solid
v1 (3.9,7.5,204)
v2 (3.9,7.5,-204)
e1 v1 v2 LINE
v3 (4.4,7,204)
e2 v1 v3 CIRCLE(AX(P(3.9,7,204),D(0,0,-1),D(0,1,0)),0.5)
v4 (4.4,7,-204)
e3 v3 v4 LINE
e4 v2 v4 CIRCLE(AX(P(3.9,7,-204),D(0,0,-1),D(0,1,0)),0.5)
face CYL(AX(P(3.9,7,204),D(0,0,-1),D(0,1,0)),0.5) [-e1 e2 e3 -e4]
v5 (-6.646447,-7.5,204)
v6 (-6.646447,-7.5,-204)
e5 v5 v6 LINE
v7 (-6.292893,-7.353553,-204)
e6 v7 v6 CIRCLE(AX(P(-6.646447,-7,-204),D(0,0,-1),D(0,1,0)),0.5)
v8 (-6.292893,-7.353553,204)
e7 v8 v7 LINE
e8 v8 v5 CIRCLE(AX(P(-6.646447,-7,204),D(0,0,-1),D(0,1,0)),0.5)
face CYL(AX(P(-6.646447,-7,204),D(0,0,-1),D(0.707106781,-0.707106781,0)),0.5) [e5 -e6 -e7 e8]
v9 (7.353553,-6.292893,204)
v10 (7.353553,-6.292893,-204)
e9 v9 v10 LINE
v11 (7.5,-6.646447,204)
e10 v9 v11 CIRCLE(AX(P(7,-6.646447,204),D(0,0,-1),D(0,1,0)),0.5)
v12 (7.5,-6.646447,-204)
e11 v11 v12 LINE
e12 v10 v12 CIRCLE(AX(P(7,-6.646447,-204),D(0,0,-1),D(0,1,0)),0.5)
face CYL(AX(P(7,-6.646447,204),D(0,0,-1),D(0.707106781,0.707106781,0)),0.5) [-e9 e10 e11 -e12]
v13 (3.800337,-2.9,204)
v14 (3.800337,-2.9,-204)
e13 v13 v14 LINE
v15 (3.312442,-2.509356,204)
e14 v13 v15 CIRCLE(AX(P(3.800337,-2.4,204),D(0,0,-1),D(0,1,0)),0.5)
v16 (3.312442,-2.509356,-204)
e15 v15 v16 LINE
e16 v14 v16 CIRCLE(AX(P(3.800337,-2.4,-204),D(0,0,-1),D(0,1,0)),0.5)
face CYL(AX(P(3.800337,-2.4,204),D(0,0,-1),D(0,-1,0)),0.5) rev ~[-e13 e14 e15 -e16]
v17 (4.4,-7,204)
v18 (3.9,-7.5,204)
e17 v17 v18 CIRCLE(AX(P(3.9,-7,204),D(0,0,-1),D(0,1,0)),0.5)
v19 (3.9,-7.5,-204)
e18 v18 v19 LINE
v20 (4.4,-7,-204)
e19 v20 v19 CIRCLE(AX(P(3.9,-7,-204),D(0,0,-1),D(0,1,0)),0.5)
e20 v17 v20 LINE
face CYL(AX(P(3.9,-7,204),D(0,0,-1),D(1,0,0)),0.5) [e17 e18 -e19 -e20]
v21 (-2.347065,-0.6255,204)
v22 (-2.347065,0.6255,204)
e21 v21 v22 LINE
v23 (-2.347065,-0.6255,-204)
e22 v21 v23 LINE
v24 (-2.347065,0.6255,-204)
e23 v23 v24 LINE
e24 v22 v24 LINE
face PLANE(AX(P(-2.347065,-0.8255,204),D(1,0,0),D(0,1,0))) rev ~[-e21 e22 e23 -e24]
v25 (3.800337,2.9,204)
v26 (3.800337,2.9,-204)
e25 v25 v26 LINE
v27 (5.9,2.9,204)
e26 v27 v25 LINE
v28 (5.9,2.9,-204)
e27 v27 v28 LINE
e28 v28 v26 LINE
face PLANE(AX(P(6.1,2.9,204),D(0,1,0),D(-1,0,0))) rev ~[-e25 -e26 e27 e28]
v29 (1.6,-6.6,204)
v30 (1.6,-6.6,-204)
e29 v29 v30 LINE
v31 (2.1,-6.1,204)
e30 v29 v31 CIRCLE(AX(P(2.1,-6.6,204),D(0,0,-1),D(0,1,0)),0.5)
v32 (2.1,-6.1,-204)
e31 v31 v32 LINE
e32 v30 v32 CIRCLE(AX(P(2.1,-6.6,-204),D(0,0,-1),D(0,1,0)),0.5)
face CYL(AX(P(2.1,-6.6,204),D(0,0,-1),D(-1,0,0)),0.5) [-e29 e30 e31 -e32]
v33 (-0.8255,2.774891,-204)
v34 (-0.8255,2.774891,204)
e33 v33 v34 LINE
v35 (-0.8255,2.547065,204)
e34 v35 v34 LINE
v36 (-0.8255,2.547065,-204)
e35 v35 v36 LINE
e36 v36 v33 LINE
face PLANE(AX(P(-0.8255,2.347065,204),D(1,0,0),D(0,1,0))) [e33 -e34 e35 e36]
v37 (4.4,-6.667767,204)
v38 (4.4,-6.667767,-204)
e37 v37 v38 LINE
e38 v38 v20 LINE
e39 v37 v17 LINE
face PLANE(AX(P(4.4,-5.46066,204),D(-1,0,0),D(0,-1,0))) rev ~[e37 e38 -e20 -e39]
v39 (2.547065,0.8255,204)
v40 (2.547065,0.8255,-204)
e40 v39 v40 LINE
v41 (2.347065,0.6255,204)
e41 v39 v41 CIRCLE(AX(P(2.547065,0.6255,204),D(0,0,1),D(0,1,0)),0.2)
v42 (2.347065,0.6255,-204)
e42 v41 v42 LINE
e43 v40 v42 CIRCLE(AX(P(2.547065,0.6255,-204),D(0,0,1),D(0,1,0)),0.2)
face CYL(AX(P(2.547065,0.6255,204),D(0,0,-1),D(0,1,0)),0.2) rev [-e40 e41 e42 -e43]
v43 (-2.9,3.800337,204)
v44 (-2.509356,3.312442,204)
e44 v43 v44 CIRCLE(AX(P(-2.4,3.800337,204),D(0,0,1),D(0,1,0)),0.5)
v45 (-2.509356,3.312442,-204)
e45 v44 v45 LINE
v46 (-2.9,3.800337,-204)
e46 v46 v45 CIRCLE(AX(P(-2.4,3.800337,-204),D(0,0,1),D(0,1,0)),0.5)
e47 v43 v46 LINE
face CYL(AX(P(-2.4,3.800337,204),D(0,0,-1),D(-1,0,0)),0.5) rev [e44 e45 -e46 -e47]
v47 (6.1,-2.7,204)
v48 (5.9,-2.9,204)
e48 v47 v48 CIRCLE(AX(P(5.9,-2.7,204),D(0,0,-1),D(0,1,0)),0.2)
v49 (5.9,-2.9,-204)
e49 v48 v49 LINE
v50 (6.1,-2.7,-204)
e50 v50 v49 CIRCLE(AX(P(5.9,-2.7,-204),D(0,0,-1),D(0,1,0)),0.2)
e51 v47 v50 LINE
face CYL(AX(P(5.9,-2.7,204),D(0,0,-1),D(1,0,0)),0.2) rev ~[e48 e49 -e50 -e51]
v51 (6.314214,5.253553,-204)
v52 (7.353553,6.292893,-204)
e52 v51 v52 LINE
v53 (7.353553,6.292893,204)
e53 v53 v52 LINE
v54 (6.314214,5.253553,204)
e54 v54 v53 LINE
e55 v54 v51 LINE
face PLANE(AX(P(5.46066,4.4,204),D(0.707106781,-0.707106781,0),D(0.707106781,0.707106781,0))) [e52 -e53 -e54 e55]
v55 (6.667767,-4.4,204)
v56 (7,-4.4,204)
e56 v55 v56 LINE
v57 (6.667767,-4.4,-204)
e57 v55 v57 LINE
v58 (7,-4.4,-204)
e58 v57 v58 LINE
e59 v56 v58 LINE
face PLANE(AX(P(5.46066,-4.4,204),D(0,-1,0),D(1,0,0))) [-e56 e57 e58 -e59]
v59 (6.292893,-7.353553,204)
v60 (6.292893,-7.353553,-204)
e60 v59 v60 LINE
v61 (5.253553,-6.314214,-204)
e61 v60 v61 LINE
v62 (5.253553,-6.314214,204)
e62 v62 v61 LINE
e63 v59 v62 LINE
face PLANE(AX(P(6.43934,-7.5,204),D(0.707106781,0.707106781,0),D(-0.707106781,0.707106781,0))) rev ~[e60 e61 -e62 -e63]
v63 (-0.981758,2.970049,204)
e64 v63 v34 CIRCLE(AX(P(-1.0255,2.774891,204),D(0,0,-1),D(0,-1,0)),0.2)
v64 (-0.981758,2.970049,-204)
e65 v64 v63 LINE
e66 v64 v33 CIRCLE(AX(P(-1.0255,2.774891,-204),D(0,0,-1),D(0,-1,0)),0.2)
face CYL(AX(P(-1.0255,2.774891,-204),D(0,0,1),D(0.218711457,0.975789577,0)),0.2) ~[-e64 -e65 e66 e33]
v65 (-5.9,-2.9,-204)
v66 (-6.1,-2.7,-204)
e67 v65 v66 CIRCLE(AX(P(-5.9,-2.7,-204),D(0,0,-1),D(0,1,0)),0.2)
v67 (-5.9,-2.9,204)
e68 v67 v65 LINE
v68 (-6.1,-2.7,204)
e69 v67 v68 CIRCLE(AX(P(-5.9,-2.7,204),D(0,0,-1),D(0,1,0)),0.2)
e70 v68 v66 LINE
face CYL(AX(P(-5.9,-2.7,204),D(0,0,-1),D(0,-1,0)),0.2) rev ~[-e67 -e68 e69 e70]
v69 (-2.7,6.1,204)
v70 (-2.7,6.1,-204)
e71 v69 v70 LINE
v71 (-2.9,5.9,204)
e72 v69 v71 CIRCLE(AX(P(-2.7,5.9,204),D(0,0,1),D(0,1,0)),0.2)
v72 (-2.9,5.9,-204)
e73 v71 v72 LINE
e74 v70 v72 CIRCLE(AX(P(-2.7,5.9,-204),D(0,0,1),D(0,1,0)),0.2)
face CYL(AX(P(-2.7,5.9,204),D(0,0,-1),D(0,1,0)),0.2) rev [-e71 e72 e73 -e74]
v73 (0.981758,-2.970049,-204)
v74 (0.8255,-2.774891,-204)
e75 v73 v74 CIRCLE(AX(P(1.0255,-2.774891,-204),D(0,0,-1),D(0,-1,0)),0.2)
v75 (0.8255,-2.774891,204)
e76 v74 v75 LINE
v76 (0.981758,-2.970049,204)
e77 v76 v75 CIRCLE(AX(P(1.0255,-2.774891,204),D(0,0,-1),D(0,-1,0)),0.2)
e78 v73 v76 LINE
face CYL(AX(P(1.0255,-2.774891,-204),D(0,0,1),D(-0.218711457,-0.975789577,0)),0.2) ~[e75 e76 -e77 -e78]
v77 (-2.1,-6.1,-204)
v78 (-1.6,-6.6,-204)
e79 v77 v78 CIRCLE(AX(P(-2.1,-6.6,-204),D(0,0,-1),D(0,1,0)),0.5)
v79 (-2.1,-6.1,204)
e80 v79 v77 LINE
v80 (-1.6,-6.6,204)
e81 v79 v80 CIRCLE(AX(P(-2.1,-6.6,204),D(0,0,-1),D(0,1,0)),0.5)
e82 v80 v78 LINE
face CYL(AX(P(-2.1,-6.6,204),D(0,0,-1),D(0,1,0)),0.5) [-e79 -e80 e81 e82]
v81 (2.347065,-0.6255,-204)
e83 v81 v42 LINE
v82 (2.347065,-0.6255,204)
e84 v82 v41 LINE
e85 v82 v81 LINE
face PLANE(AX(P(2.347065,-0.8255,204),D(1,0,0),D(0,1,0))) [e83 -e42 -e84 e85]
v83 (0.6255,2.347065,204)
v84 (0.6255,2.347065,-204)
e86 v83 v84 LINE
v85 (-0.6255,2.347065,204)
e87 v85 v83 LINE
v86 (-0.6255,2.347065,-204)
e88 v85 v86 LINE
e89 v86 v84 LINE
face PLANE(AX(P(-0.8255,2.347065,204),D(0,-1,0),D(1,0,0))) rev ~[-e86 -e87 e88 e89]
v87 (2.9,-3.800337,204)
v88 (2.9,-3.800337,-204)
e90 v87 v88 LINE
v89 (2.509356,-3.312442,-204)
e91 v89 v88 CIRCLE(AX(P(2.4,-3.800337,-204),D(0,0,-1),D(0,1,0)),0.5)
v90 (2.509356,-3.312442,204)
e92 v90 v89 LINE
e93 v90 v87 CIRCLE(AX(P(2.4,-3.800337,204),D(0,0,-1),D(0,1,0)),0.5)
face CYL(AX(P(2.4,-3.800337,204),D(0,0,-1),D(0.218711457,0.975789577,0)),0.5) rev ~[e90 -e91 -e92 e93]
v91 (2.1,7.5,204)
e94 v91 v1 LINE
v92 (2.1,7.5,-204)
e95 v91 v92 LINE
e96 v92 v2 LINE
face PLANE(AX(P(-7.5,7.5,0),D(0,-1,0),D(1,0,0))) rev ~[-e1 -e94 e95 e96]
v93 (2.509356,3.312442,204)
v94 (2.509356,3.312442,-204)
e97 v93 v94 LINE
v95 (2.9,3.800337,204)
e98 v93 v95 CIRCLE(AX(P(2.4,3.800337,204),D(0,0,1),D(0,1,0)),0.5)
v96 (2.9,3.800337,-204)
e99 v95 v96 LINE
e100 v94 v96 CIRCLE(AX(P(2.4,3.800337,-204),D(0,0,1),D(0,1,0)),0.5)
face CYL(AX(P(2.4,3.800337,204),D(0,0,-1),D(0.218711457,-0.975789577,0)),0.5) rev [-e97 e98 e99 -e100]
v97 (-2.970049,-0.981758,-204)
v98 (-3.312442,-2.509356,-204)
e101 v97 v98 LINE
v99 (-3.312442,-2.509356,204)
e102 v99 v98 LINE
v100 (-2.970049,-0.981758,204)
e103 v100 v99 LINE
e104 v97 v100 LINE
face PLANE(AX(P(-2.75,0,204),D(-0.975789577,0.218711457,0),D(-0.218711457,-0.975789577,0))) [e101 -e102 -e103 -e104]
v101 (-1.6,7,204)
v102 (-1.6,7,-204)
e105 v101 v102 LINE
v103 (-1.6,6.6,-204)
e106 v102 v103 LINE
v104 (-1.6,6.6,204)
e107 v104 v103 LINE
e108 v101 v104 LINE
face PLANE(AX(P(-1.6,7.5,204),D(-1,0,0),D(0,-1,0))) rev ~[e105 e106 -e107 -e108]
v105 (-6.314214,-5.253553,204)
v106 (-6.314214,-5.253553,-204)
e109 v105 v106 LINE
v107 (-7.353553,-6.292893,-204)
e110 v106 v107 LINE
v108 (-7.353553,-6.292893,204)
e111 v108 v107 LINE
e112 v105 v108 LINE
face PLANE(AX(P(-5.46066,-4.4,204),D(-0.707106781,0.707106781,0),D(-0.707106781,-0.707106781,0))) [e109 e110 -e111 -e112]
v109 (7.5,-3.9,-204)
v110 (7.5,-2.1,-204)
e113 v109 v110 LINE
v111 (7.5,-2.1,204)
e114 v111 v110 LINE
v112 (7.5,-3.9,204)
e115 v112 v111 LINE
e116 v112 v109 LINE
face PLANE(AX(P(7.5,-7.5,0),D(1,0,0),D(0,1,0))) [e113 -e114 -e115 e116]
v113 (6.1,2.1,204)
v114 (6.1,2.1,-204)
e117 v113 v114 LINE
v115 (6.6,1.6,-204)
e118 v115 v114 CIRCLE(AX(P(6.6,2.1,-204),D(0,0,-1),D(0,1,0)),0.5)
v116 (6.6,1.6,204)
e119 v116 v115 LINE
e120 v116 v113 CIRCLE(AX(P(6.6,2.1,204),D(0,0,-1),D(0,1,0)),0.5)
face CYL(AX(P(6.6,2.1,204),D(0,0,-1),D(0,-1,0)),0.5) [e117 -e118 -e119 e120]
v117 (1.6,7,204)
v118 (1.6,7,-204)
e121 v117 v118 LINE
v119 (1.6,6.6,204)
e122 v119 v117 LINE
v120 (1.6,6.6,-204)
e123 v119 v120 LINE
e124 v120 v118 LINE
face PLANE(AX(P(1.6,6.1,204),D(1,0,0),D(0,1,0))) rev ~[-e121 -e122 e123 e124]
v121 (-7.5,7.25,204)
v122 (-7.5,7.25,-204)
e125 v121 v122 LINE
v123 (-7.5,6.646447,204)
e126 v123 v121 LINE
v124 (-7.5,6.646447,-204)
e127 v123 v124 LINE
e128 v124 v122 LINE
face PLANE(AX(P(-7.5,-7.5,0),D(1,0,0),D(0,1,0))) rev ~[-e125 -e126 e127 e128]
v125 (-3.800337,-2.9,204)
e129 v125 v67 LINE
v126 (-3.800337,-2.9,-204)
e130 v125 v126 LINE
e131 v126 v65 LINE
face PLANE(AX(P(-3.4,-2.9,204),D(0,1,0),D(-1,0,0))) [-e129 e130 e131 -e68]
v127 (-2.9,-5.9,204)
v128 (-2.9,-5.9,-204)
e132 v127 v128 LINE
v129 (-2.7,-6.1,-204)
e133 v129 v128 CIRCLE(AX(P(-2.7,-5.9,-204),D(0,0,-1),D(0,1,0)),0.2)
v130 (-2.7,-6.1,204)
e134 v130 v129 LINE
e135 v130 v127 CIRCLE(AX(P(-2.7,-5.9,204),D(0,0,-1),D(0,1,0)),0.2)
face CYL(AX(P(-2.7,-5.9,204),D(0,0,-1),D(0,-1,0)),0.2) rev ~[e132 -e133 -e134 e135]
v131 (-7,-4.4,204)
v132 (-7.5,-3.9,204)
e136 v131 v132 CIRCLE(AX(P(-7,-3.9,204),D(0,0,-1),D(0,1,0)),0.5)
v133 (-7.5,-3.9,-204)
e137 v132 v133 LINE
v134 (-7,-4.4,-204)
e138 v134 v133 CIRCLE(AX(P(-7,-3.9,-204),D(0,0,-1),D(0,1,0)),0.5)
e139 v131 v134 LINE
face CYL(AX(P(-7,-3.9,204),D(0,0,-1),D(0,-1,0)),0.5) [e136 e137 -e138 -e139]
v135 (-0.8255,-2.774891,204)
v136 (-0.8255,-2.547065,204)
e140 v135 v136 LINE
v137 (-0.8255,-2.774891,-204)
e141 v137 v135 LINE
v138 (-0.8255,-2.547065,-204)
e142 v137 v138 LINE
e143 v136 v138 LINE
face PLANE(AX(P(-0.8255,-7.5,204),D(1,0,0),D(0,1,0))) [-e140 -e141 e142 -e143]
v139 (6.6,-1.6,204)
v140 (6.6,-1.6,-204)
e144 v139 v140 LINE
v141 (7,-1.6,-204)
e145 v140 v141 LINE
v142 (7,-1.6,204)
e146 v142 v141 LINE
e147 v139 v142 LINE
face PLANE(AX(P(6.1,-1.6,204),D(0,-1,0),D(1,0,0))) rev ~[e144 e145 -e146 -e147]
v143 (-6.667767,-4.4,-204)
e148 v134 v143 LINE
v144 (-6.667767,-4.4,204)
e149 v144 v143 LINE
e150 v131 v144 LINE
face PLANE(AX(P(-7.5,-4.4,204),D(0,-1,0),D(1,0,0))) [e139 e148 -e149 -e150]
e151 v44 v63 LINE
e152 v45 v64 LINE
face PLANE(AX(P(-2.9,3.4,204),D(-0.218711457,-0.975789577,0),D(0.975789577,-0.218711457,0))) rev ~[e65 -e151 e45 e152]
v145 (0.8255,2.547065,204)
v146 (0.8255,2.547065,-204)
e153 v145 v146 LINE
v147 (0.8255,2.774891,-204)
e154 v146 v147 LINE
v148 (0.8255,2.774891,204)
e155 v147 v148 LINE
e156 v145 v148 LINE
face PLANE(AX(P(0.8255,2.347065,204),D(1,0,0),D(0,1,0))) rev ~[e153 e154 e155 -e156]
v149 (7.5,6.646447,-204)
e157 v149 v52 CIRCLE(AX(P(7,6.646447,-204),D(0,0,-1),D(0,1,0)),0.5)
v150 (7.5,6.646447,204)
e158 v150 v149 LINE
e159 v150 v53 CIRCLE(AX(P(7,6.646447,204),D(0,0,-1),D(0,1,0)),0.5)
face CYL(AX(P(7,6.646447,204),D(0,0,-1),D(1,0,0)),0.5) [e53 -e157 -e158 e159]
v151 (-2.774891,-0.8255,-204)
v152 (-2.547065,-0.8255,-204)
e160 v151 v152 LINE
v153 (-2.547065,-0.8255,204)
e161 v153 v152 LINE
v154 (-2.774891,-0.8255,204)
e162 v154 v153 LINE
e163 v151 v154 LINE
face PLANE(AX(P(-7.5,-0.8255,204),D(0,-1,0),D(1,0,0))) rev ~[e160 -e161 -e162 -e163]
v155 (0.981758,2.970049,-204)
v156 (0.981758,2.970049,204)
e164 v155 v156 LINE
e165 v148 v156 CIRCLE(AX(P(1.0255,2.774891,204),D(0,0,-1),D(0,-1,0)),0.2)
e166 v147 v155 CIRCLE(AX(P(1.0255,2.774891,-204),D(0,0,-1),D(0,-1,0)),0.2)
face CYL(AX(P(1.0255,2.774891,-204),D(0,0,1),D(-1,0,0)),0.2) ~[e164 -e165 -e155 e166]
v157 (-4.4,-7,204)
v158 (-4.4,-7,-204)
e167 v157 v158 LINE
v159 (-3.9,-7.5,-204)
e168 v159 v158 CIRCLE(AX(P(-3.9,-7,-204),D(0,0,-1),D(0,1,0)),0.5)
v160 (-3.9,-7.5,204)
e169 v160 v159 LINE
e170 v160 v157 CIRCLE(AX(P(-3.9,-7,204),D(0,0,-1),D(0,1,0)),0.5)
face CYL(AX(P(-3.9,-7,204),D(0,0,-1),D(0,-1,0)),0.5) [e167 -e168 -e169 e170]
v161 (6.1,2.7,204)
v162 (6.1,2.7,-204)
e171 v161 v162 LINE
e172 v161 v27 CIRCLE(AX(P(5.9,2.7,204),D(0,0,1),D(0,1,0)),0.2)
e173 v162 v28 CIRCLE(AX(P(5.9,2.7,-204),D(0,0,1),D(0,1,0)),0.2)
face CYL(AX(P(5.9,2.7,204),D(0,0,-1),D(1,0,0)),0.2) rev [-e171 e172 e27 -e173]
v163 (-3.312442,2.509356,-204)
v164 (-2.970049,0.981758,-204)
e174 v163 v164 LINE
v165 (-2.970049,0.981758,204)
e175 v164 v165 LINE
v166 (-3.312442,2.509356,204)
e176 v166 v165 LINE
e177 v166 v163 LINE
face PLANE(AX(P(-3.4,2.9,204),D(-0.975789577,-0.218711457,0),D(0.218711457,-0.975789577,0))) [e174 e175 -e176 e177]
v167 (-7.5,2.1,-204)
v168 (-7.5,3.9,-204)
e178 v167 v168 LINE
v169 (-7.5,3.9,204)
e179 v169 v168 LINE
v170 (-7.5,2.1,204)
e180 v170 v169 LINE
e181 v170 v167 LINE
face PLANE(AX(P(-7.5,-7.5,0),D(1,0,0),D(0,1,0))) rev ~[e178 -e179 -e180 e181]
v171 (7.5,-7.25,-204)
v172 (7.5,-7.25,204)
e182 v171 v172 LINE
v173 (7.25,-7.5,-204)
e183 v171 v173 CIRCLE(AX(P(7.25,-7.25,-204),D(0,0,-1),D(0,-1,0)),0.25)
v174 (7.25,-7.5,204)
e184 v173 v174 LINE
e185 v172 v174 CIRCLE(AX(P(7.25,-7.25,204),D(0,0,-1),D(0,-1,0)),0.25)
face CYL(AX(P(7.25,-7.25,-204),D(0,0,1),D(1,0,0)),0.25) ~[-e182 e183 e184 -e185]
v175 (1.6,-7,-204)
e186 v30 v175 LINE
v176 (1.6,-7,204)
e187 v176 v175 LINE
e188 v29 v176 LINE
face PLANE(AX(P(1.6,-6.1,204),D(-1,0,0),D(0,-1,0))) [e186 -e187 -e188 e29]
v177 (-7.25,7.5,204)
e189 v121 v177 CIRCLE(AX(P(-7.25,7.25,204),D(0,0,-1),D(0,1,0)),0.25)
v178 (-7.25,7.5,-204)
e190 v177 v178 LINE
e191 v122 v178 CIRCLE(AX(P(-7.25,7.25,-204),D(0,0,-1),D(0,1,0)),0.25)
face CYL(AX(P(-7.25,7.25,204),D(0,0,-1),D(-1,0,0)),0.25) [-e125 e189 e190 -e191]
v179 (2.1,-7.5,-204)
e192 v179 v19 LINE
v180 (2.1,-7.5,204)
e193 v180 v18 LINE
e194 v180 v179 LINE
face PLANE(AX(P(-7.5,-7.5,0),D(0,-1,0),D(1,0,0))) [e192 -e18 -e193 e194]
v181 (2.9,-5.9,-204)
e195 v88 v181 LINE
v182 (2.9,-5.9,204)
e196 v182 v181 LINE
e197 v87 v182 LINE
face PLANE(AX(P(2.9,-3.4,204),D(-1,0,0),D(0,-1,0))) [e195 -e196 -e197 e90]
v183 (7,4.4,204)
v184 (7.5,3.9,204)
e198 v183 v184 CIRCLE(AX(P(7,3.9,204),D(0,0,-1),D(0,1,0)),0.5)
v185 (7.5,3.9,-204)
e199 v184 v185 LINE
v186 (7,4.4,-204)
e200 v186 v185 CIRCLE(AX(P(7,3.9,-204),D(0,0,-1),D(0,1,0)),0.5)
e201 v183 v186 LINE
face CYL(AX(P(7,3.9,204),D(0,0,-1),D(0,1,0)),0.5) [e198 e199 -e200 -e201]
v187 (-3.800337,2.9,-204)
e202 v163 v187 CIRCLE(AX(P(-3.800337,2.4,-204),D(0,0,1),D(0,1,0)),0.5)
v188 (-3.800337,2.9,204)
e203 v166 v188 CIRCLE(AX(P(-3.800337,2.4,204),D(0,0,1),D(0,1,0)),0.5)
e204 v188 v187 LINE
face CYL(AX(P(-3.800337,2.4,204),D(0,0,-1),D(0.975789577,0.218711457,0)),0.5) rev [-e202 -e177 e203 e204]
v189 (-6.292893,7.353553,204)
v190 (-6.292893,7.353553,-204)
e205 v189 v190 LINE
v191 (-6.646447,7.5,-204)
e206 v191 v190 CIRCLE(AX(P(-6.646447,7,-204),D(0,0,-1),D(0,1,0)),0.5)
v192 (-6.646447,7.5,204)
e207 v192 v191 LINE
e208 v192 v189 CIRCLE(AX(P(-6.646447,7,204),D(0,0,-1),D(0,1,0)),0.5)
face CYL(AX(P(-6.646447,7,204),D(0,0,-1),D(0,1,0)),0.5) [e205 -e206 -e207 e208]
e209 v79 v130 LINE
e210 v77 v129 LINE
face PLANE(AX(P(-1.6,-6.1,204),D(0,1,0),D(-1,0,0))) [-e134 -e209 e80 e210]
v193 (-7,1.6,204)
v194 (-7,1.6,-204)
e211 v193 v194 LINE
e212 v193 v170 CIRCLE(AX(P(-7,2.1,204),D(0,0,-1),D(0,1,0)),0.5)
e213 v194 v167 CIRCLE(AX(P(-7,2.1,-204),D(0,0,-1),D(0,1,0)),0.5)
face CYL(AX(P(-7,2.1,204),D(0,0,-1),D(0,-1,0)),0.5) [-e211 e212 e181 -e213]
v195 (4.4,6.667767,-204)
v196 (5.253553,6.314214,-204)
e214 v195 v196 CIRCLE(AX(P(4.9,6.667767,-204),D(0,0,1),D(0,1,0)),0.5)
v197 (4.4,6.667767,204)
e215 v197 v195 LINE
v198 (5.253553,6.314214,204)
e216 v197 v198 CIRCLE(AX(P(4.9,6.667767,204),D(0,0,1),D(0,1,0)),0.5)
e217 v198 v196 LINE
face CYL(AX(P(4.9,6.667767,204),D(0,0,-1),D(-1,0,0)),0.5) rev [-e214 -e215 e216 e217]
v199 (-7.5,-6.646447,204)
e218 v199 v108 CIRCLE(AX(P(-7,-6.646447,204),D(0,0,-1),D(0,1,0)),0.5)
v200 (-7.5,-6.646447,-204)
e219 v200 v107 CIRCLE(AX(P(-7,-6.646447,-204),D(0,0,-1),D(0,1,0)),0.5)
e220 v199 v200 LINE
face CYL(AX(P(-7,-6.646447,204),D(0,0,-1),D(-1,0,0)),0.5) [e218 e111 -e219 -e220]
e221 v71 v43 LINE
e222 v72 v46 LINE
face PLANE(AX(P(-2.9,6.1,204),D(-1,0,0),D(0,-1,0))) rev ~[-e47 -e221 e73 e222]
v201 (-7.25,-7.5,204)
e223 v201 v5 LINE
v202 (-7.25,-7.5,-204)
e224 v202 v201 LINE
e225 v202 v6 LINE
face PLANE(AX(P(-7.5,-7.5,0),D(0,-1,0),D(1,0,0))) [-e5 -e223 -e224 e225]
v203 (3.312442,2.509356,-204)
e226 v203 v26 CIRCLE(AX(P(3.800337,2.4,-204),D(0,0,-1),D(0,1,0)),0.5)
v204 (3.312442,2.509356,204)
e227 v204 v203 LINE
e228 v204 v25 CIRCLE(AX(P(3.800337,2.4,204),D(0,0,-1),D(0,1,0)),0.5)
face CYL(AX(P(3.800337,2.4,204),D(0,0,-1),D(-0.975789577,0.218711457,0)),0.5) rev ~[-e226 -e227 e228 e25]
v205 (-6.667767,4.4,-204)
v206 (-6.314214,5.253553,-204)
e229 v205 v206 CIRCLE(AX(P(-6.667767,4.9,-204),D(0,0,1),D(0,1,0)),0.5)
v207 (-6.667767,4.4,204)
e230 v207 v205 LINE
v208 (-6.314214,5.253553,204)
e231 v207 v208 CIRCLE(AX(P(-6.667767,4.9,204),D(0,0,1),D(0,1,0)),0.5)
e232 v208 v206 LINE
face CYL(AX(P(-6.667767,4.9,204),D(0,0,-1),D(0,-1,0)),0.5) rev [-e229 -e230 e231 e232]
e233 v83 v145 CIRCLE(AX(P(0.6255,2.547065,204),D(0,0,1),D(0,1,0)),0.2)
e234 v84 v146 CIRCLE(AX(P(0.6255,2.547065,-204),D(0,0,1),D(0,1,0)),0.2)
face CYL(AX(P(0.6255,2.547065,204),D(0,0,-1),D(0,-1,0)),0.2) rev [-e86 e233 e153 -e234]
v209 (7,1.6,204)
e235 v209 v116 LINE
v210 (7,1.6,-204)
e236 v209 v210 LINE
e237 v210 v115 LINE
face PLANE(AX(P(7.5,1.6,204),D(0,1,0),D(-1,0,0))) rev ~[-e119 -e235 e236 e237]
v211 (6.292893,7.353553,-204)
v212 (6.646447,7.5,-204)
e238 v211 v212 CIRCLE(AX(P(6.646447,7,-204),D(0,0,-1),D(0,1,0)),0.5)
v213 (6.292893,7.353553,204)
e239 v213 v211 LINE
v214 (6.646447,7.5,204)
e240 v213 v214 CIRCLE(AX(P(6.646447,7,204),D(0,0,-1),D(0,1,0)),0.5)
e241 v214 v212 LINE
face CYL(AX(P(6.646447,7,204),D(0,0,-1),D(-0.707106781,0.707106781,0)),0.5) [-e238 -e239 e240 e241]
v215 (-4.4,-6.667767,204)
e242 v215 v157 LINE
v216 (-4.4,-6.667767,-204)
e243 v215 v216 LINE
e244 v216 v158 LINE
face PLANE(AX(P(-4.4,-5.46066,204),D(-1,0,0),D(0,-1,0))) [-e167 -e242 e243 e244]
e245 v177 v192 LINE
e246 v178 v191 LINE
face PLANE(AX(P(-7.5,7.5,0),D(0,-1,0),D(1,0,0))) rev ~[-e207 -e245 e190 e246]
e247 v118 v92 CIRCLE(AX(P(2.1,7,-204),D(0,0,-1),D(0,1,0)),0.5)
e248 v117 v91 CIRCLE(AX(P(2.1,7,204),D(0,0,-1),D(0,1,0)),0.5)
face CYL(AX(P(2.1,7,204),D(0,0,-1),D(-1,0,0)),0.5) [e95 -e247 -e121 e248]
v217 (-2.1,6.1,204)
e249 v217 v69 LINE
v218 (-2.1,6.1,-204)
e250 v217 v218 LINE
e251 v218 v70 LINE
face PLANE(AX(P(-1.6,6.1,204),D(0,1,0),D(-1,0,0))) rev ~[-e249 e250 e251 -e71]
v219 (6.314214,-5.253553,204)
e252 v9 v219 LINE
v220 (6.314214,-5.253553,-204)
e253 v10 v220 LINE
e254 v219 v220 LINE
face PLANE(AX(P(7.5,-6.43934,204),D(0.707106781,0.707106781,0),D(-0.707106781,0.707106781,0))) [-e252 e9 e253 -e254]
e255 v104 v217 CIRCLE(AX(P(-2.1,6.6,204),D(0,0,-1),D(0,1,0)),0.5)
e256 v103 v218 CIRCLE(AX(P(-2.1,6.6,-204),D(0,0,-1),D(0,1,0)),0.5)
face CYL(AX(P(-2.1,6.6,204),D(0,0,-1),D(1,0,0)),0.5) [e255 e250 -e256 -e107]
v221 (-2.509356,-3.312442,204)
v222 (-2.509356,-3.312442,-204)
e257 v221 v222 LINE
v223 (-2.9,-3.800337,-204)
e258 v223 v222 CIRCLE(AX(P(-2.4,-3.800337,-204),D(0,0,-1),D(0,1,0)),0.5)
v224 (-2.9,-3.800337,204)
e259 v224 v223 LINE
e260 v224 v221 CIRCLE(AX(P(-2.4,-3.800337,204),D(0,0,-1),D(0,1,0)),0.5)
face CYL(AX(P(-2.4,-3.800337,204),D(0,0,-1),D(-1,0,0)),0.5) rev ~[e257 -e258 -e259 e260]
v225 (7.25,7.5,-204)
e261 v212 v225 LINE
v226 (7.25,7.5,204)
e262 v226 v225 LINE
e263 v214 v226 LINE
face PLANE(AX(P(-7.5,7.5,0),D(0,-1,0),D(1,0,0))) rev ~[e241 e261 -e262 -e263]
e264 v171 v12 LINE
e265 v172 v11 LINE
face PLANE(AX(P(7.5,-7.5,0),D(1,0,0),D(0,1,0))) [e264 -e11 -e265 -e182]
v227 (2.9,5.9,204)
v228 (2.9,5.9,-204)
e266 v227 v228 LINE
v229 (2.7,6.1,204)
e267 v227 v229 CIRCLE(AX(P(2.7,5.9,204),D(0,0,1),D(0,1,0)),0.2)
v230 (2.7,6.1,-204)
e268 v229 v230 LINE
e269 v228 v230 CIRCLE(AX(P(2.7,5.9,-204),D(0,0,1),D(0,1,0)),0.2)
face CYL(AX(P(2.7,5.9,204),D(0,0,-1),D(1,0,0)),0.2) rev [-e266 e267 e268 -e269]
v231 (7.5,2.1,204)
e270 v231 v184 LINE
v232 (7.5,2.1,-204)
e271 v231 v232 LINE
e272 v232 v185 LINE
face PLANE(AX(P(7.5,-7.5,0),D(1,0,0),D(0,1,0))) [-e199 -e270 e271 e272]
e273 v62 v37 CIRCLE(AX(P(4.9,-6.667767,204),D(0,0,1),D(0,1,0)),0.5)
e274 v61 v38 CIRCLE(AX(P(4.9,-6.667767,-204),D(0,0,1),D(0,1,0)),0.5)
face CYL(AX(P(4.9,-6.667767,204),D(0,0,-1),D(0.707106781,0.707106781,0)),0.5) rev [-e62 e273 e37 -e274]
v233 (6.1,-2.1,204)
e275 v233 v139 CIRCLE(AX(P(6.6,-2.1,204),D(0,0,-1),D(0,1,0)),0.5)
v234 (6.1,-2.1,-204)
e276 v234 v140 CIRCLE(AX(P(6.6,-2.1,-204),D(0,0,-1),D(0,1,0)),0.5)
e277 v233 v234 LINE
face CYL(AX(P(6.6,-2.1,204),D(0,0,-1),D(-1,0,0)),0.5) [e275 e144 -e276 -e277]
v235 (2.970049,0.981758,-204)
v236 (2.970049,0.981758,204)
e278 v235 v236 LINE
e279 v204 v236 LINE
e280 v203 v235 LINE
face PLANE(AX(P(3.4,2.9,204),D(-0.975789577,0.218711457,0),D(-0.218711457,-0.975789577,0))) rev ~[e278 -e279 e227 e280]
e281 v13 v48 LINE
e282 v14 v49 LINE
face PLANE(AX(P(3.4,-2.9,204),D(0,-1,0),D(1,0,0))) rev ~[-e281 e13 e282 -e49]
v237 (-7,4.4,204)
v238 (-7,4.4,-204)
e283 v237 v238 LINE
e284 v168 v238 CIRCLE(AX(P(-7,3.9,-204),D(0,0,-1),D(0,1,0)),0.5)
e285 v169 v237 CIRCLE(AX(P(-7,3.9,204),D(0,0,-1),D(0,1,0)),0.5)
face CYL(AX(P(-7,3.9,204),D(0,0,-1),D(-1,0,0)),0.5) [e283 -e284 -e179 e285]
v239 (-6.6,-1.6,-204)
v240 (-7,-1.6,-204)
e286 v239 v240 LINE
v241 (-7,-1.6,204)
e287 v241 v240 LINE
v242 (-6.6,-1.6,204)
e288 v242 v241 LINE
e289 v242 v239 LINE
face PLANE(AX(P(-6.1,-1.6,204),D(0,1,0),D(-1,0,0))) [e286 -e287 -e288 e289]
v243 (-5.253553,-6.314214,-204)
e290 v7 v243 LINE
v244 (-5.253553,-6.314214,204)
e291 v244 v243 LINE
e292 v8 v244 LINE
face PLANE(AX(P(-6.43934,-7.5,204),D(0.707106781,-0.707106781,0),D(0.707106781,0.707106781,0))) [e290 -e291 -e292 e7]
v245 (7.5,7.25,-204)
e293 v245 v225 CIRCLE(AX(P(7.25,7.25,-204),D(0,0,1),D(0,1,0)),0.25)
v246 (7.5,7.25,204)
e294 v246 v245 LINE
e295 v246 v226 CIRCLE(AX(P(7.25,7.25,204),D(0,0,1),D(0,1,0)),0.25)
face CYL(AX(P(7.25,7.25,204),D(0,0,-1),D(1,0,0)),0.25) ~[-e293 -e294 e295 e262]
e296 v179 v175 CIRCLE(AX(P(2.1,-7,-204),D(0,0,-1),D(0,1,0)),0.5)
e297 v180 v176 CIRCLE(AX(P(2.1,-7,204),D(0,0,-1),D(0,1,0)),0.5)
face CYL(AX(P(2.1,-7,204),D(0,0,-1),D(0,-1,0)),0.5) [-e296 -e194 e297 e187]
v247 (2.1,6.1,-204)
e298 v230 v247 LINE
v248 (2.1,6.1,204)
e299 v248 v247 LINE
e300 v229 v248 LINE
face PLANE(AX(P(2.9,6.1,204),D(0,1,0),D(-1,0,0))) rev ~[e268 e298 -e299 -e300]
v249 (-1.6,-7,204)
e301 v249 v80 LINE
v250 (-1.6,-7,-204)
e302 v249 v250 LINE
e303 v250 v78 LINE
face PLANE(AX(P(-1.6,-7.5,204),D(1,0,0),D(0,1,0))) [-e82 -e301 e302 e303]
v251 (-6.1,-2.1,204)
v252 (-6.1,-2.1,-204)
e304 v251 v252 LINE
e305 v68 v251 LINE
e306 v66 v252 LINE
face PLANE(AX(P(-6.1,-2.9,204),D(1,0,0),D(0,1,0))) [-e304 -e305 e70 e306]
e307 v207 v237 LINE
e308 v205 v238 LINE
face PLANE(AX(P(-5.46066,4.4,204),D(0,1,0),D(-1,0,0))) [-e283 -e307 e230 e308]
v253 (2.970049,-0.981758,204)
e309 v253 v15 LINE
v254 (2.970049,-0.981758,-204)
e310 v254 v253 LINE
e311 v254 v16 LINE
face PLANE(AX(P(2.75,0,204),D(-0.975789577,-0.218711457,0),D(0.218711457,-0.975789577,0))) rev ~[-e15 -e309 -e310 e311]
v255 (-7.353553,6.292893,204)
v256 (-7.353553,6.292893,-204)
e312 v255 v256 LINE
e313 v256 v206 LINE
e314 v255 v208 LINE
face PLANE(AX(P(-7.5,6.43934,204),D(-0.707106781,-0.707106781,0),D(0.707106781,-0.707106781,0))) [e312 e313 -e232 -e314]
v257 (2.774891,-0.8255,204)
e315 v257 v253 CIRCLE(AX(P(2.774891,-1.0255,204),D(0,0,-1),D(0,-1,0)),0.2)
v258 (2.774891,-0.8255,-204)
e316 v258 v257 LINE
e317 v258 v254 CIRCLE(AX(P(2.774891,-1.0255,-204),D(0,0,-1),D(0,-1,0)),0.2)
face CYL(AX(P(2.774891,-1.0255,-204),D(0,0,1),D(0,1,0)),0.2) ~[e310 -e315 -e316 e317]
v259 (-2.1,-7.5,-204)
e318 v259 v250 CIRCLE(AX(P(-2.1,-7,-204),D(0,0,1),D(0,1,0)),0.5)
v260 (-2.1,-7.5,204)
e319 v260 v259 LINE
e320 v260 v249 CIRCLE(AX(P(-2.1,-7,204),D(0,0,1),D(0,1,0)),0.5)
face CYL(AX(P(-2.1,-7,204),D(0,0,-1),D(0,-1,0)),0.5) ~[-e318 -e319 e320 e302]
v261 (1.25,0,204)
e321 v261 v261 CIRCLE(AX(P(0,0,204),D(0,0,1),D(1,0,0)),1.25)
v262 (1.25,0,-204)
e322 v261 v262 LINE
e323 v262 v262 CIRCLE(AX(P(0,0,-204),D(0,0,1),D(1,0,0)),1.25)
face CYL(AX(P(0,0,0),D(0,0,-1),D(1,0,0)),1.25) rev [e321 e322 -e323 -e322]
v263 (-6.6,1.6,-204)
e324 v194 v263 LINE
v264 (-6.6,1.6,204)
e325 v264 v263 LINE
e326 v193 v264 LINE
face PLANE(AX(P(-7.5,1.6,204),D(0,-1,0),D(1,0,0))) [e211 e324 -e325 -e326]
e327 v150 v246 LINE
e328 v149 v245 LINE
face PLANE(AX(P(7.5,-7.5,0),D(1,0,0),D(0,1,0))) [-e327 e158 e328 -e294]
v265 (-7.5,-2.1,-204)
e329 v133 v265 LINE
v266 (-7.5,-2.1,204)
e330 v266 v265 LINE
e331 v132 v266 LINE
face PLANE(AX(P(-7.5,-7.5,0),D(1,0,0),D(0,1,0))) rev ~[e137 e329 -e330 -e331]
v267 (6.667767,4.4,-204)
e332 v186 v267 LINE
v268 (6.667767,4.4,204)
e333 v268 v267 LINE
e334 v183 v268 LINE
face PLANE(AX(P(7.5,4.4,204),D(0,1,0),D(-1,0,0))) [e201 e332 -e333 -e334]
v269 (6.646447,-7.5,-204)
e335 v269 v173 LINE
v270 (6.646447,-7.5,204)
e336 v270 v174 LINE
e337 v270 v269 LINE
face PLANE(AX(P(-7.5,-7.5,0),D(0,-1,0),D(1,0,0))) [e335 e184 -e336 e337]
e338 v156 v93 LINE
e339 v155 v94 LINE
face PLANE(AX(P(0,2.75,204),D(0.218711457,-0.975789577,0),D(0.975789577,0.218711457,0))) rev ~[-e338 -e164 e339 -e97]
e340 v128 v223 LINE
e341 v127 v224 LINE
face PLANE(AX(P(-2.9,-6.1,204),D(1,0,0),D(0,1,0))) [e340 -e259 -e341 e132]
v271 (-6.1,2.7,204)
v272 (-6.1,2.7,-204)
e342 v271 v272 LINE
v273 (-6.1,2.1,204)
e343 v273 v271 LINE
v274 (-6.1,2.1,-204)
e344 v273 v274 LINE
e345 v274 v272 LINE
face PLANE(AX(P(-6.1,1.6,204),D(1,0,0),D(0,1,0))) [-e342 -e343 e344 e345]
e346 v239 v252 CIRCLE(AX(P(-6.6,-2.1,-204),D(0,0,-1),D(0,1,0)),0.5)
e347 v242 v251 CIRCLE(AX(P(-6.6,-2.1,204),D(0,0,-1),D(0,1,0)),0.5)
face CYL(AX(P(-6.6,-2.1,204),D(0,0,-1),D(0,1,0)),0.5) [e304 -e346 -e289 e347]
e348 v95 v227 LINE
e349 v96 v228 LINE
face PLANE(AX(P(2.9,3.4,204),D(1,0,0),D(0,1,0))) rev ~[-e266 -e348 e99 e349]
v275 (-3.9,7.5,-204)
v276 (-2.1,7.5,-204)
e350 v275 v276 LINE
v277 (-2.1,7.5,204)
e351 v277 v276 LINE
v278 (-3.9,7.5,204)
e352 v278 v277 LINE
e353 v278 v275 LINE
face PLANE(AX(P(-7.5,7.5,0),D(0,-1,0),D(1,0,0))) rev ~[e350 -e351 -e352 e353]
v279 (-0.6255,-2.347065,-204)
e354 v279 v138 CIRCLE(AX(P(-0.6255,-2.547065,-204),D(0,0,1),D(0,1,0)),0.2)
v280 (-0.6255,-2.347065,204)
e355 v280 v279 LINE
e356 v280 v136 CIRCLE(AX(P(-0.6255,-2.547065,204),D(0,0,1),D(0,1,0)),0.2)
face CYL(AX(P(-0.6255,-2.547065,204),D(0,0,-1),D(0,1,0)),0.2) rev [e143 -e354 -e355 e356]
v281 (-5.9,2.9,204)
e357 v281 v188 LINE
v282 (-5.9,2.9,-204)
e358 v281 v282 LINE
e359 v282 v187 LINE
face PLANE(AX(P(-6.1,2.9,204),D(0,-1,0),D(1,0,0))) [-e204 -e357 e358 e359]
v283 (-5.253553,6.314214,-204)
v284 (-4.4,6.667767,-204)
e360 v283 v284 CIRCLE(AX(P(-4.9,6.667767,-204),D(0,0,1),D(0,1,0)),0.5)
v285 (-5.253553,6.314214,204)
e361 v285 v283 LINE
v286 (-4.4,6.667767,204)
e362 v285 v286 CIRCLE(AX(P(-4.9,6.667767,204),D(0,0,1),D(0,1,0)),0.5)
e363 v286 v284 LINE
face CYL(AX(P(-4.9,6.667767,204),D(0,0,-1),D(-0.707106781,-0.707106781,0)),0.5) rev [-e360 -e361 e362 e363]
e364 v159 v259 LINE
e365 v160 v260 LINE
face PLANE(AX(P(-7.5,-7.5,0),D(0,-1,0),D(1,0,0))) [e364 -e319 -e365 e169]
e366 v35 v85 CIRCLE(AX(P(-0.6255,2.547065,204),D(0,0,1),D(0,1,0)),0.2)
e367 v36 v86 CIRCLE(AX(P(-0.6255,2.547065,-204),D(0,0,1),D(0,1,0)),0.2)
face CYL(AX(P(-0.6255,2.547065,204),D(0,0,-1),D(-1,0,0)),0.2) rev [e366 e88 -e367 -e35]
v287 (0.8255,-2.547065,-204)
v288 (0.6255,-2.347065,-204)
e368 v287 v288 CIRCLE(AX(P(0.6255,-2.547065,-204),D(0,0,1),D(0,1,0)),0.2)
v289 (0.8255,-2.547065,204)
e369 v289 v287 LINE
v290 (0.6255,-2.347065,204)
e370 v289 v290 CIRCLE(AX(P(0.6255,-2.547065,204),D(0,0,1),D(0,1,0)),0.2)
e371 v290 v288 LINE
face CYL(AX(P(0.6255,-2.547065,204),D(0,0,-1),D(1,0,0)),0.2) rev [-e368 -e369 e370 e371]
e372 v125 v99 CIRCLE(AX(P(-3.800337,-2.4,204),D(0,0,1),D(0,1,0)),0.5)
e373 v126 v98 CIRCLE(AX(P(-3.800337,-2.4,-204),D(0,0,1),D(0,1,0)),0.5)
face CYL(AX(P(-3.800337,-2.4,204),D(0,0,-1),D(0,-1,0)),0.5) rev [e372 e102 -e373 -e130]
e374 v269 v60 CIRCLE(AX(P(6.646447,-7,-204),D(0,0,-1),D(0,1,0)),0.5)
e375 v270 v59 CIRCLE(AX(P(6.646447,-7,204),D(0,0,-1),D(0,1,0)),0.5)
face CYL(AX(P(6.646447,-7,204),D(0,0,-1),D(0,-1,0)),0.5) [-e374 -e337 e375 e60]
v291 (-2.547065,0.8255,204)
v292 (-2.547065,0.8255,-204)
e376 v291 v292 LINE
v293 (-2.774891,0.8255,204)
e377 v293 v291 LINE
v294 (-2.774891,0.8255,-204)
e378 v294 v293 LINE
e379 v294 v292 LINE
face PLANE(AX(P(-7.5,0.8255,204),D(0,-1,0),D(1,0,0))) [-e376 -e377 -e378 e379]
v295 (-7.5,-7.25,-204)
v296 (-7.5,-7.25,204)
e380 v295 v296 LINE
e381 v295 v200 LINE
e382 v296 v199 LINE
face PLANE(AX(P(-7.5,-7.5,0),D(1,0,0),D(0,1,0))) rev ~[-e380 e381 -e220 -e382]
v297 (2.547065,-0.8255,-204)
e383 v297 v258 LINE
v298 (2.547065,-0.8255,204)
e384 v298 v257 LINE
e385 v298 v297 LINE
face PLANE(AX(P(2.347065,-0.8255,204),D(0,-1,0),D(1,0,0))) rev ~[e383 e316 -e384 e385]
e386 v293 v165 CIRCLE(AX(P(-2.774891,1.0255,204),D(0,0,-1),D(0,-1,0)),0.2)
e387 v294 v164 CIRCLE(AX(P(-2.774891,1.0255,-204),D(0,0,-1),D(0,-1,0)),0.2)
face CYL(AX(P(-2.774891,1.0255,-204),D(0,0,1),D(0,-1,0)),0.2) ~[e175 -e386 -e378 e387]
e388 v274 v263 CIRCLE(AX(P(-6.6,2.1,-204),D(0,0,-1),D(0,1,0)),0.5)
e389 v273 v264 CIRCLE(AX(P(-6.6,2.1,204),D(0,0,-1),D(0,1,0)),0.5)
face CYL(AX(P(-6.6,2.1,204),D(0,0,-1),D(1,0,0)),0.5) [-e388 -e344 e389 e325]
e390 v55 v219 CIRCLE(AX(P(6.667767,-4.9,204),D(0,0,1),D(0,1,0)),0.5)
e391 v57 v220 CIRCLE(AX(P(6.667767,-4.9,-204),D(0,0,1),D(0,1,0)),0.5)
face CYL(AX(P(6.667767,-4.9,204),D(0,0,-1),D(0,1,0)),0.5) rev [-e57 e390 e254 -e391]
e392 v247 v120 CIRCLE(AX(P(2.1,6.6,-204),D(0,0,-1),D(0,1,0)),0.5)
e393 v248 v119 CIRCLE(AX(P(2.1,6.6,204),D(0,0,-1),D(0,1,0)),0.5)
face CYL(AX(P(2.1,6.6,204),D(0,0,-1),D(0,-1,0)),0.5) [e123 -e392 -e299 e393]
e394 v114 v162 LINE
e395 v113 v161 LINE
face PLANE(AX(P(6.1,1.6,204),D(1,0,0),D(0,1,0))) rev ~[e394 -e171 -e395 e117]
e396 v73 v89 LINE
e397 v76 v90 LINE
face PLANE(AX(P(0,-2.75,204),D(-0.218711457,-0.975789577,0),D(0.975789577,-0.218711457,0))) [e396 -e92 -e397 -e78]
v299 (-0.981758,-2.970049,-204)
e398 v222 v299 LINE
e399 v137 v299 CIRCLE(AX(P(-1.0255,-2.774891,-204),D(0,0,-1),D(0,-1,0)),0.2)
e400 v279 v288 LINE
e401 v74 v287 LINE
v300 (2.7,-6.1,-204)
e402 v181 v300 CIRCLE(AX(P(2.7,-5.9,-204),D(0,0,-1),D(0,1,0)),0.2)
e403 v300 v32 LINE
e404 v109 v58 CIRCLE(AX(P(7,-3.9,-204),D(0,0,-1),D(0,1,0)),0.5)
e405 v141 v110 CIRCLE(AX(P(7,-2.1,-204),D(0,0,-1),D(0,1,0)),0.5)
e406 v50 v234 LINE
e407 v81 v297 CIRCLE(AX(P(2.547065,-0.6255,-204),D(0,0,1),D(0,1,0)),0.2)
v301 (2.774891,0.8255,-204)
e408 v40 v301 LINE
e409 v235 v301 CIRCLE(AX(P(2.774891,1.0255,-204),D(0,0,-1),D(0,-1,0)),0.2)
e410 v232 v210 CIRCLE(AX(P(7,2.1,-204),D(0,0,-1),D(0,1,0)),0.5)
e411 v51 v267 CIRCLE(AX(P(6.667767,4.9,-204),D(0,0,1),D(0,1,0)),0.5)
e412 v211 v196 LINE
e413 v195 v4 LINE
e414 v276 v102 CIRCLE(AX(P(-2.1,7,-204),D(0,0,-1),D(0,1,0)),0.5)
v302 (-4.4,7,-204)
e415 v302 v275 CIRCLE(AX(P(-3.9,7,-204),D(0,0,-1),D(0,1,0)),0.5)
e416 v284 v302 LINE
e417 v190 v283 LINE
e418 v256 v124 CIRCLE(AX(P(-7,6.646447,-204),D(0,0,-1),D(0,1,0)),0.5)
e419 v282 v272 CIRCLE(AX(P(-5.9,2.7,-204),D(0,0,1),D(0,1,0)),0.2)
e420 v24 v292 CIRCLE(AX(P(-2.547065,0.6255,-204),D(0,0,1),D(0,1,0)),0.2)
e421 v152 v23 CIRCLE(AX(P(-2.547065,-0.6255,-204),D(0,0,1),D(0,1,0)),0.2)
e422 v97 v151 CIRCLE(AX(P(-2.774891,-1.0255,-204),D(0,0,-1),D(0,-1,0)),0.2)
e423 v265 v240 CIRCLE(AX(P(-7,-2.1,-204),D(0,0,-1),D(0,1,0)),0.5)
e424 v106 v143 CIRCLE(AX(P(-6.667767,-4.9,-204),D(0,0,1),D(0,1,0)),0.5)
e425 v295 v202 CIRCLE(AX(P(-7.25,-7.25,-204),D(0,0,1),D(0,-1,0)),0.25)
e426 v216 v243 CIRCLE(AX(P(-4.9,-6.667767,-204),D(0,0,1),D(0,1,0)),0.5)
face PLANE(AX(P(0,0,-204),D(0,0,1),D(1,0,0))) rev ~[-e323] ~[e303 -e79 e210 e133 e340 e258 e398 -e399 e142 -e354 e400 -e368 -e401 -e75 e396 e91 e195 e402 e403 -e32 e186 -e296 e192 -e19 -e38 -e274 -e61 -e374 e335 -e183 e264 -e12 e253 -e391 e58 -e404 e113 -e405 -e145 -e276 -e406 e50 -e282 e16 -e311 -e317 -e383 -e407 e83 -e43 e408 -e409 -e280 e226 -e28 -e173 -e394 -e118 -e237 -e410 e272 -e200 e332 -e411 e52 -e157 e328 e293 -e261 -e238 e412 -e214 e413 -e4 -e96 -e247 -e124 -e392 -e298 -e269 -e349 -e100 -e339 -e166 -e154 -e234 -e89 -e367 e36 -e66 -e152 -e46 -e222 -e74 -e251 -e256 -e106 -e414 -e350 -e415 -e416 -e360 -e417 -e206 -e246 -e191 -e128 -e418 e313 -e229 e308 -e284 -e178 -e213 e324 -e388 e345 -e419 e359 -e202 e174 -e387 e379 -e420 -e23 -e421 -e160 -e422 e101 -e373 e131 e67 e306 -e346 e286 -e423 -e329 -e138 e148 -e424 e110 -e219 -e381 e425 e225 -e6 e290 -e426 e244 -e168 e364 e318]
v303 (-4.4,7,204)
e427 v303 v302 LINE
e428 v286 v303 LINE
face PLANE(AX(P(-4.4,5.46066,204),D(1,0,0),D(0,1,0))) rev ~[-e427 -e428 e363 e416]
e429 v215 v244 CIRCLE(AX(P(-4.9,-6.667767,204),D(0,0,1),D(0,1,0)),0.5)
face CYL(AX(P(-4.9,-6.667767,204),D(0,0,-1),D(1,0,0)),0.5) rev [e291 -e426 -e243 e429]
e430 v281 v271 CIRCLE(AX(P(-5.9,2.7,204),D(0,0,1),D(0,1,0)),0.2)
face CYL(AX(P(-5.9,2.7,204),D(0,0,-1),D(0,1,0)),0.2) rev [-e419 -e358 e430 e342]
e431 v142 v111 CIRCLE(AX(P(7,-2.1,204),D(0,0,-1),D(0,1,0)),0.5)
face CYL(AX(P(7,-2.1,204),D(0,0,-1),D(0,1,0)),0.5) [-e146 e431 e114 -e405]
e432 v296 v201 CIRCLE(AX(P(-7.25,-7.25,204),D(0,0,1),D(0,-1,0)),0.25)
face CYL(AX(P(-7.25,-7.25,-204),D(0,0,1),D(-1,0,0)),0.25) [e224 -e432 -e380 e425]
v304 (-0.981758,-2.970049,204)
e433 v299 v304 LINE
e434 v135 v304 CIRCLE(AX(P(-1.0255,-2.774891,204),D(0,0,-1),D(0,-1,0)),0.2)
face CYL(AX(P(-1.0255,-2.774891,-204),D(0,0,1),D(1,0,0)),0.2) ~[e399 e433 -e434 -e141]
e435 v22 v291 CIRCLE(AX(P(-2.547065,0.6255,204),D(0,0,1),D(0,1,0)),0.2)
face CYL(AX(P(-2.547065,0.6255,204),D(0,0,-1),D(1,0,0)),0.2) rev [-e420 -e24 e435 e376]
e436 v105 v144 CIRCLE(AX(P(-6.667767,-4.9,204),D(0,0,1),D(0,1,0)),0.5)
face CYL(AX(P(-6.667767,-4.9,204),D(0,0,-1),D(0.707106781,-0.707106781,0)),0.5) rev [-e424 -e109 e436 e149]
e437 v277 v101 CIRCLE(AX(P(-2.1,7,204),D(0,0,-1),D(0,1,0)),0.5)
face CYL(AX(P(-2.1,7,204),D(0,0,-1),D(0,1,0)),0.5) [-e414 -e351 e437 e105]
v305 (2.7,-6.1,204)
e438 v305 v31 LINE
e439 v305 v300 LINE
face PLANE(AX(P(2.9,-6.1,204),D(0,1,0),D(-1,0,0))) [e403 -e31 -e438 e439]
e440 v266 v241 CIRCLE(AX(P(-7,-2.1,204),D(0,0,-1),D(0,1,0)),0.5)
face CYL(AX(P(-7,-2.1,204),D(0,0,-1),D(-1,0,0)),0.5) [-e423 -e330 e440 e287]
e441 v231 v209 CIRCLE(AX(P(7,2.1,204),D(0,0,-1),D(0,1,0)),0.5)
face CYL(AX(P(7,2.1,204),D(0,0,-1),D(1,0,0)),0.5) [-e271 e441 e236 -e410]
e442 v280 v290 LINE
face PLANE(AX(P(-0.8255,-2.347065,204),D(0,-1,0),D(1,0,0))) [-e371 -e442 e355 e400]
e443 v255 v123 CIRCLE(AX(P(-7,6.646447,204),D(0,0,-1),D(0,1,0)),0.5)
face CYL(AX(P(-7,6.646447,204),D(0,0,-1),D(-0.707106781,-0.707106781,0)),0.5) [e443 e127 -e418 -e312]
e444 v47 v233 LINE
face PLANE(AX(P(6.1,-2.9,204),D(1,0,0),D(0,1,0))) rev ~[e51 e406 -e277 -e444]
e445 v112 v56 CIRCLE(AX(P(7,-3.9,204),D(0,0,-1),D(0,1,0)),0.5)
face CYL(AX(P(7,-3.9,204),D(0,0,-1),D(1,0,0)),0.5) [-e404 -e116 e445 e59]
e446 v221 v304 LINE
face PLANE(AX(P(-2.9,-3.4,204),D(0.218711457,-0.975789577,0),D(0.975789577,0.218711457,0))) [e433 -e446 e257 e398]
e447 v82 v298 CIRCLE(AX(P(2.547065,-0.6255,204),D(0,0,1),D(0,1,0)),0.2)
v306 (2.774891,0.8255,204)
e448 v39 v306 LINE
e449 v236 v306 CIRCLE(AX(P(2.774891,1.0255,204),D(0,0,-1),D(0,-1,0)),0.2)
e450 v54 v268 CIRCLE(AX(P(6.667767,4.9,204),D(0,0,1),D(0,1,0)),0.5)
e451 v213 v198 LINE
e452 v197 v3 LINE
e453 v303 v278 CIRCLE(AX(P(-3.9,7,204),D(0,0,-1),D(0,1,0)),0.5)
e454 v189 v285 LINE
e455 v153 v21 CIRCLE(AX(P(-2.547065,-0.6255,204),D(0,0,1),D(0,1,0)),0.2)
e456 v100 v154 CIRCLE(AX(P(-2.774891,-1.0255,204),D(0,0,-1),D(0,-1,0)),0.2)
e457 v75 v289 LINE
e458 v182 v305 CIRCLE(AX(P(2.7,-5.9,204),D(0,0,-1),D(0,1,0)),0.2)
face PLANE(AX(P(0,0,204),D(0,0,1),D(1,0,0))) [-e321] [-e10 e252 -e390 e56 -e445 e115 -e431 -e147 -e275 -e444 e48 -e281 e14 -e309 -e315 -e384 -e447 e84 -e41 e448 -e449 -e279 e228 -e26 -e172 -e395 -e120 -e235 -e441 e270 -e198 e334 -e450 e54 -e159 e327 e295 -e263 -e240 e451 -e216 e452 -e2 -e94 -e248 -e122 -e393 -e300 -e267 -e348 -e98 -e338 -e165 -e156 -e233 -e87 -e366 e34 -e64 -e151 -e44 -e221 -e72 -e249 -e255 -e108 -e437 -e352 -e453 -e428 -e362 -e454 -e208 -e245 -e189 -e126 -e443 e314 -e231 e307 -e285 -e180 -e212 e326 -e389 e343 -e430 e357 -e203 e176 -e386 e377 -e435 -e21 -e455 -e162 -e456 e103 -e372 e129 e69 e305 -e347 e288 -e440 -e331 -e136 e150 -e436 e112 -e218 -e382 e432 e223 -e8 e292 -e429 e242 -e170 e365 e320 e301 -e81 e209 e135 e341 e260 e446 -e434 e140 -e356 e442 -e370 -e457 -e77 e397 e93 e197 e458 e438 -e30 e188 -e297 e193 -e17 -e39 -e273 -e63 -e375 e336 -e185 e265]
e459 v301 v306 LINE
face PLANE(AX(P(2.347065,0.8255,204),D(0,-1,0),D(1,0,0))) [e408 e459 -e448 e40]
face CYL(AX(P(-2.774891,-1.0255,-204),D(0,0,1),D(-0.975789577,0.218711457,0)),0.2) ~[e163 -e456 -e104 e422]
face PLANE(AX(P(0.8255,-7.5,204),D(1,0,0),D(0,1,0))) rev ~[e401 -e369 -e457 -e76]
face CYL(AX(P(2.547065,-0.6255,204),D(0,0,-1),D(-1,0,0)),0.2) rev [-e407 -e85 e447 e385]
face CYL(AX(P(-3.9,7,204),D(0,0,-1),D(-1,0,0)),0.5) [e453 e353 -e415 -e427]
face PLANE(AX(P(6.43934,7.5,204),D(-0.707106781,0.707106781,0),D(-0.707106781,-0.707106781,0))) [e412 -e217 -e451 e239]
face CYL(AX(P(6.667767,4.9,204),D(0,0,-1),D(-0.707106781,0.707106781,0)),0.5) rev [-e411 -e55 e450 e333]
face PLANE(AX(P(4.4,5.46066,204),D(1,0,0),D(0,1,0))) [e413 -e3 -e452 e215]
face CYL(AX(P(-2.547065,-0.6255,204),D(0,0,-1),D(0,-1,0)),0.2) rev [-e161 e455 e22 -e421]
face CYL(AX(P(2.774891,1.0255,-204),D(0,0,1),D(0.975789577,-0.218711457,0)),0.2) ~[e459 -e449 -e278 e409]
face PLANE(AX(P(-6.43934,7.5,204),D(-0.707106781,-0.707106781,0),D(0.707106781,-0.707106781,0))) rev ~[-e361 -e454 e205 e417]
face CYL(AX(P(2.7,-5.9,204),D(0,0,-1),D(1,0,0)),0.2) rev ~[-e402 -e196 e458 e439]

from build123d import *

# Parameters (mm, degrees)
SKETCH1_W           = 15
SKETCH1_H           = 15
SKETCH1_R           = 1.25
BOSS_EXTRUDE1_DEPTH = 204
FILLET1_R           = 0.25
CUT_EXTRUDE1_DEPTH  = 409.137844361
CUT_EXTRUDE3_DEPTH  = 409.137844361
FILLET3_R           = 0.5
FILLET4_R           = 0.5
FILLET5_R           = 3
FILLET6_R           = 0.2
CUT_EXTRUDE4_DEPTH  = 409.137844361
FILLET8_R           = 0.5
SKETCH6_W           = 5.1529354
SKETCH6_H           = 1.651
SKETCH6_W_2         = 1.651
SKETCH6_H_2         = 5.1529354
CUT_EXTRUDE5_DEPTH  = 409.137844361
FILLET10_R          = 0.2


with BuildPart() as part:
    # Sketch1 → Boss-Extrude1 (new, symmetric)
    with BuildSketch(Plane.XY):
        Rectangle(SKETCH1_W, SKETCH1_H)
        Circle(SKETCH1_R, mode=Mode.SUBTRACT)
    extrude(amount=BOSS_EXTRUDE1_DEPTH, both=True)

    # Fillet1
    fillet1_edges = [part.edges().sort_by_distance(p)[0] for p in [
        (7.5, -7.5, 0),
        (-7.5, -7.5, 0),
        (-7.5, 7.5, 0),
        (7.5, 7.5, 0),
    ]]
    fillet(fillet1_edges, radius=FILLET1_R)

    # Sketch2 → Cut-Extrude1 (cut, through all)
    with BuildSketch(Plane.XY.offset(204)):
        Polygon((-7.5, 1.6), (-6.1, 1.6), (-6.1, 2.9), (-3.4, 2.9), (-3.4, -2.9), (-6.1, -2.9), (-6.1, -1.6), (-7.5, -1.6), align=None)
        Polygon((2.9, 6.1), (1.6, 6.1), (1.6, 7.5), (-1.6, 7.5), (-1.6, 6.1), (-2.9, 6.1), (-2.9, 3.4), (2.9, 3.4), align=None)
        Polygon((-1.6, -7.5), (-1.6, -6.1), (-2.9, -6.1), (-2.9, -3.4), (2.9, -3.4), (2.9, -6.1), (1.6, -6.1), (1.6, -7.5), align=None)
        Polygon((6.1, -2.9), (6.1, -1.6), (7.5, -1.6), (7.5, 1.6), (6.1, 1.6), (6.1, 2.9), (3.4, 2.9), (3.4, -2.9), align=None)
    extrude(amount=-CUT_EXTRUDE1_DEPTH, mode=Mode.SUBTRACT)

    # Sketch4 → Cut-Extrude3 (cut, through all)
    with BuildSketch(Plane.XY.offset(204)):
        Polygon((-3.4, 2.9), (-2.75, 0), (-3.4, -2.9), align=None)
        Polygon((-2.9, 3.4), (0, 2.75), (2.9, 3.4), align=None)
        Polygon((3.4, 2.9), (2.75, 0), (3.4, -2.9), align=None)
        Polygon((-2.9, -3.4), (0, -2.75), (2.9, -3.4), align=None)
    extrude(amount=-CUT_EXTRUDE3_DEPTH, mode=Mode.SUBTRACT)

    # Fillet3
    fillet3_edges = [part.edges().sort_by_distance(p)[0] for p in [
        (1.6, -7.5, 0),
        (-1.6, -7.5, 0),
        (-1.6, -6.1, 0),
        (1.6, -6.1, 0),
        (6.1, 1.6, 0),
        (7.5, 1.6, 0),
        (7.5, -1.6, 0),
        (6.1, -1.6, 0),
        (-7.5, -1.6, 0),
        (-7.5, 1.6, 0),
        (-6.1, 1.6, 0),
        (-6.1, -1.6, 0),
        (-1.6, 6.1, 0),
        (-1.6, 7.5, 0),
        (1.6, 7.5, 0),
        (1.6, 6.1, 0),
    ]]
    fillet(fillet3_edges, radius=FILLET3_R)

    # Fillet4
    fillet4_edges = [part.edges().sort_by_distance(p)[0] for p in [
        (-2.9, -3.4, 0),
        (2.9, -3.4, 0),
        (3.4, -2.9, 0),
        (3.4, 2.9, 0),
        (-3.4, 2.9, 0),
        (-3.4, -2.9, 0),
        (2.9, 3.4, 0),
        (-2.9, 3.4, 0),
    ]]
    fillet(fillet4_edges, radius=FILLET4_R)

    # Fillet5
    fillet5_edges = [part.edges().sort_by_distance(p)[0] for p in [
        (-2.75, 0, 0),
        (0, 2.75, 0),
        (2.75, 0, 0),
        (0, -2.75, 0),
    ]]
    fillet(fillet5_edges, radius=FILLET5_R)

    # Fillet6
    fillet6_edges = [part.edges().sort_by_distance(p)[0] for p in [
        (-2.9, -6.1, 0),
        (2.9, -6.1, 0),
        (6.1, -2.9, 0),
        (6.1, 2.9, 0),
        (-6.1, 2.9, 0),
        (-6.1, -2.9, 0),
        (2.9, 6.1, 0),
        (-2.9, 6.1, 0),
    ]]
    fillet(fillet6_edges, radius=FILLET6_R)

    # Sketch5 → Cut-Extrude4 (cut, through all)
    with BuildSketch(Plane.XY.offset(204)):
        Polygon((-7.5, 6.439339828), (-5.460660172, 4.4), (-7.5, 4.4), align=None)
        Polygon((-6.439339828, 7.5), (-4.4, 5.460660172), (-4.4, 7.5), align=None)
        Polygon((4.4, 7.5), (6.439339828, 7.5), (4.4, 5.460660172), align=None)
        Polygon((7.5, 6.439339828), (7.5, 4.4), (5.460660172, 4.4), align=None)
        Polygon((7.5, -6.439339828), (5.460660172, -4.4), (7.5, -4.4), align=None)
        Polygon((6.439339828, -7.5), (4.4, -5.460660172), (4.4, -7.5), align=None)
        Polygon((-4.4, -7.5), (-6.439339828, -7.5), (-4.4, -5.460660172), align=None)
        Polygon((-7.5, -6.439339828), (-7.5, -4.4), (-5.460660172, -4.4), align=None)
    extrude(amount=-CUT_EXTRUDE4_DEPTH, mode=Mode.SUBTRACT)

    # Fillet8
    fillet8_edges = [part.edges().sort_by_distance(p)[0] for p in [
        (-7.5, 4.4, 0),
        (-7.5, 6.439339828, 0),
        (-5.460660172, 4.4, 0),
        (7.5, -4.4, 0),
        (7.5, -6.439339828, 0),
        (5.460660172, -4.4, 0),
        (5.460660172, 4.4, 0),
        (7.5, 6.439339828, 0),
        (7.5, 4.4, 0),
        (-4.4, 7.5, 0),
        (-4.4, 5.460660172, 0),
        (-6.439339828, 7.5, 0),
        (-5.460660172, -4.4, 0),
        (-7.5, -6.439339828, 0),
        (-7.5, -4.4, 0),
        (4.4, 5.460660172, 0),
        (4.4, 7.5, 0),
        (6.439339828, 7.5, 0),
        (6.439339828, -7.5, 0),
        (4.4, -7.5, 0),
        (4.4, -5.460660172, 0),
        (-6.439339828, -7.5, 0),
        (-4.4, -5.460660172, 0),
        (-4.4, -7.5, 0),
    ]]
    fillet(fillet8_edges, radius=FILLET8_R)

    # Sketch6 → Cut-Extrude5 (cut, through all)
    with BuildSketch(Plane.XY.offset(204)):
        with Locations((4.9235323, 0)):
            Rectangle(SKETCH6_W, SKETCH6_H)
        with Locations((0, -4.9235323)):
            Rectangle(SKETCH6_W_2, SKETCH6_H_2)
        with Locations((-4.9235323, 0)):
            Rectangle(SKETCH6_W, SKETCH6_H)
        with Locations((0, 4.9235323)):
            Rectangle(SKETCH6_W_2, SKETCH6_H_2)
    extrude(amount=-CUT_EXTRUDE5_DEPTH, mode=Mode.SUBTRACT)

    # Fillet10
    fillet10_edges = [part.edges().sort_by_distance(p)[0] for p in [
        (0.8255, -2.935025862, 0),
        (-0.8255, -2.935025862, 0),
        (0.8255, -2.3470646, 0),
        (-0.8255, -2.3470646, 0),
        (2.935025862, 0.8255, 0),
        (2.935025862, -0.8255, 0),
        (2.3470646, 0.8255, 0),
        (2.3470646, -0.8255, 0),
        (-2.935025862, -0.8255, 0),
        (-2.935025862, 0.8255, 0),
        (-2.3470646, -0.8255, 0),
        (-2.3470646, 0.8255, 0),
        (-0.8255, 2.935025862, 0),
        (0.8255, 2.935025862, 0),
        (-0.8255, 2.3470646, 0),
        (0.8255, 2.3470646, 0),
    ]]
    fillet(fillet10_edges, radius=FILLET10_R)


solid = part.part
